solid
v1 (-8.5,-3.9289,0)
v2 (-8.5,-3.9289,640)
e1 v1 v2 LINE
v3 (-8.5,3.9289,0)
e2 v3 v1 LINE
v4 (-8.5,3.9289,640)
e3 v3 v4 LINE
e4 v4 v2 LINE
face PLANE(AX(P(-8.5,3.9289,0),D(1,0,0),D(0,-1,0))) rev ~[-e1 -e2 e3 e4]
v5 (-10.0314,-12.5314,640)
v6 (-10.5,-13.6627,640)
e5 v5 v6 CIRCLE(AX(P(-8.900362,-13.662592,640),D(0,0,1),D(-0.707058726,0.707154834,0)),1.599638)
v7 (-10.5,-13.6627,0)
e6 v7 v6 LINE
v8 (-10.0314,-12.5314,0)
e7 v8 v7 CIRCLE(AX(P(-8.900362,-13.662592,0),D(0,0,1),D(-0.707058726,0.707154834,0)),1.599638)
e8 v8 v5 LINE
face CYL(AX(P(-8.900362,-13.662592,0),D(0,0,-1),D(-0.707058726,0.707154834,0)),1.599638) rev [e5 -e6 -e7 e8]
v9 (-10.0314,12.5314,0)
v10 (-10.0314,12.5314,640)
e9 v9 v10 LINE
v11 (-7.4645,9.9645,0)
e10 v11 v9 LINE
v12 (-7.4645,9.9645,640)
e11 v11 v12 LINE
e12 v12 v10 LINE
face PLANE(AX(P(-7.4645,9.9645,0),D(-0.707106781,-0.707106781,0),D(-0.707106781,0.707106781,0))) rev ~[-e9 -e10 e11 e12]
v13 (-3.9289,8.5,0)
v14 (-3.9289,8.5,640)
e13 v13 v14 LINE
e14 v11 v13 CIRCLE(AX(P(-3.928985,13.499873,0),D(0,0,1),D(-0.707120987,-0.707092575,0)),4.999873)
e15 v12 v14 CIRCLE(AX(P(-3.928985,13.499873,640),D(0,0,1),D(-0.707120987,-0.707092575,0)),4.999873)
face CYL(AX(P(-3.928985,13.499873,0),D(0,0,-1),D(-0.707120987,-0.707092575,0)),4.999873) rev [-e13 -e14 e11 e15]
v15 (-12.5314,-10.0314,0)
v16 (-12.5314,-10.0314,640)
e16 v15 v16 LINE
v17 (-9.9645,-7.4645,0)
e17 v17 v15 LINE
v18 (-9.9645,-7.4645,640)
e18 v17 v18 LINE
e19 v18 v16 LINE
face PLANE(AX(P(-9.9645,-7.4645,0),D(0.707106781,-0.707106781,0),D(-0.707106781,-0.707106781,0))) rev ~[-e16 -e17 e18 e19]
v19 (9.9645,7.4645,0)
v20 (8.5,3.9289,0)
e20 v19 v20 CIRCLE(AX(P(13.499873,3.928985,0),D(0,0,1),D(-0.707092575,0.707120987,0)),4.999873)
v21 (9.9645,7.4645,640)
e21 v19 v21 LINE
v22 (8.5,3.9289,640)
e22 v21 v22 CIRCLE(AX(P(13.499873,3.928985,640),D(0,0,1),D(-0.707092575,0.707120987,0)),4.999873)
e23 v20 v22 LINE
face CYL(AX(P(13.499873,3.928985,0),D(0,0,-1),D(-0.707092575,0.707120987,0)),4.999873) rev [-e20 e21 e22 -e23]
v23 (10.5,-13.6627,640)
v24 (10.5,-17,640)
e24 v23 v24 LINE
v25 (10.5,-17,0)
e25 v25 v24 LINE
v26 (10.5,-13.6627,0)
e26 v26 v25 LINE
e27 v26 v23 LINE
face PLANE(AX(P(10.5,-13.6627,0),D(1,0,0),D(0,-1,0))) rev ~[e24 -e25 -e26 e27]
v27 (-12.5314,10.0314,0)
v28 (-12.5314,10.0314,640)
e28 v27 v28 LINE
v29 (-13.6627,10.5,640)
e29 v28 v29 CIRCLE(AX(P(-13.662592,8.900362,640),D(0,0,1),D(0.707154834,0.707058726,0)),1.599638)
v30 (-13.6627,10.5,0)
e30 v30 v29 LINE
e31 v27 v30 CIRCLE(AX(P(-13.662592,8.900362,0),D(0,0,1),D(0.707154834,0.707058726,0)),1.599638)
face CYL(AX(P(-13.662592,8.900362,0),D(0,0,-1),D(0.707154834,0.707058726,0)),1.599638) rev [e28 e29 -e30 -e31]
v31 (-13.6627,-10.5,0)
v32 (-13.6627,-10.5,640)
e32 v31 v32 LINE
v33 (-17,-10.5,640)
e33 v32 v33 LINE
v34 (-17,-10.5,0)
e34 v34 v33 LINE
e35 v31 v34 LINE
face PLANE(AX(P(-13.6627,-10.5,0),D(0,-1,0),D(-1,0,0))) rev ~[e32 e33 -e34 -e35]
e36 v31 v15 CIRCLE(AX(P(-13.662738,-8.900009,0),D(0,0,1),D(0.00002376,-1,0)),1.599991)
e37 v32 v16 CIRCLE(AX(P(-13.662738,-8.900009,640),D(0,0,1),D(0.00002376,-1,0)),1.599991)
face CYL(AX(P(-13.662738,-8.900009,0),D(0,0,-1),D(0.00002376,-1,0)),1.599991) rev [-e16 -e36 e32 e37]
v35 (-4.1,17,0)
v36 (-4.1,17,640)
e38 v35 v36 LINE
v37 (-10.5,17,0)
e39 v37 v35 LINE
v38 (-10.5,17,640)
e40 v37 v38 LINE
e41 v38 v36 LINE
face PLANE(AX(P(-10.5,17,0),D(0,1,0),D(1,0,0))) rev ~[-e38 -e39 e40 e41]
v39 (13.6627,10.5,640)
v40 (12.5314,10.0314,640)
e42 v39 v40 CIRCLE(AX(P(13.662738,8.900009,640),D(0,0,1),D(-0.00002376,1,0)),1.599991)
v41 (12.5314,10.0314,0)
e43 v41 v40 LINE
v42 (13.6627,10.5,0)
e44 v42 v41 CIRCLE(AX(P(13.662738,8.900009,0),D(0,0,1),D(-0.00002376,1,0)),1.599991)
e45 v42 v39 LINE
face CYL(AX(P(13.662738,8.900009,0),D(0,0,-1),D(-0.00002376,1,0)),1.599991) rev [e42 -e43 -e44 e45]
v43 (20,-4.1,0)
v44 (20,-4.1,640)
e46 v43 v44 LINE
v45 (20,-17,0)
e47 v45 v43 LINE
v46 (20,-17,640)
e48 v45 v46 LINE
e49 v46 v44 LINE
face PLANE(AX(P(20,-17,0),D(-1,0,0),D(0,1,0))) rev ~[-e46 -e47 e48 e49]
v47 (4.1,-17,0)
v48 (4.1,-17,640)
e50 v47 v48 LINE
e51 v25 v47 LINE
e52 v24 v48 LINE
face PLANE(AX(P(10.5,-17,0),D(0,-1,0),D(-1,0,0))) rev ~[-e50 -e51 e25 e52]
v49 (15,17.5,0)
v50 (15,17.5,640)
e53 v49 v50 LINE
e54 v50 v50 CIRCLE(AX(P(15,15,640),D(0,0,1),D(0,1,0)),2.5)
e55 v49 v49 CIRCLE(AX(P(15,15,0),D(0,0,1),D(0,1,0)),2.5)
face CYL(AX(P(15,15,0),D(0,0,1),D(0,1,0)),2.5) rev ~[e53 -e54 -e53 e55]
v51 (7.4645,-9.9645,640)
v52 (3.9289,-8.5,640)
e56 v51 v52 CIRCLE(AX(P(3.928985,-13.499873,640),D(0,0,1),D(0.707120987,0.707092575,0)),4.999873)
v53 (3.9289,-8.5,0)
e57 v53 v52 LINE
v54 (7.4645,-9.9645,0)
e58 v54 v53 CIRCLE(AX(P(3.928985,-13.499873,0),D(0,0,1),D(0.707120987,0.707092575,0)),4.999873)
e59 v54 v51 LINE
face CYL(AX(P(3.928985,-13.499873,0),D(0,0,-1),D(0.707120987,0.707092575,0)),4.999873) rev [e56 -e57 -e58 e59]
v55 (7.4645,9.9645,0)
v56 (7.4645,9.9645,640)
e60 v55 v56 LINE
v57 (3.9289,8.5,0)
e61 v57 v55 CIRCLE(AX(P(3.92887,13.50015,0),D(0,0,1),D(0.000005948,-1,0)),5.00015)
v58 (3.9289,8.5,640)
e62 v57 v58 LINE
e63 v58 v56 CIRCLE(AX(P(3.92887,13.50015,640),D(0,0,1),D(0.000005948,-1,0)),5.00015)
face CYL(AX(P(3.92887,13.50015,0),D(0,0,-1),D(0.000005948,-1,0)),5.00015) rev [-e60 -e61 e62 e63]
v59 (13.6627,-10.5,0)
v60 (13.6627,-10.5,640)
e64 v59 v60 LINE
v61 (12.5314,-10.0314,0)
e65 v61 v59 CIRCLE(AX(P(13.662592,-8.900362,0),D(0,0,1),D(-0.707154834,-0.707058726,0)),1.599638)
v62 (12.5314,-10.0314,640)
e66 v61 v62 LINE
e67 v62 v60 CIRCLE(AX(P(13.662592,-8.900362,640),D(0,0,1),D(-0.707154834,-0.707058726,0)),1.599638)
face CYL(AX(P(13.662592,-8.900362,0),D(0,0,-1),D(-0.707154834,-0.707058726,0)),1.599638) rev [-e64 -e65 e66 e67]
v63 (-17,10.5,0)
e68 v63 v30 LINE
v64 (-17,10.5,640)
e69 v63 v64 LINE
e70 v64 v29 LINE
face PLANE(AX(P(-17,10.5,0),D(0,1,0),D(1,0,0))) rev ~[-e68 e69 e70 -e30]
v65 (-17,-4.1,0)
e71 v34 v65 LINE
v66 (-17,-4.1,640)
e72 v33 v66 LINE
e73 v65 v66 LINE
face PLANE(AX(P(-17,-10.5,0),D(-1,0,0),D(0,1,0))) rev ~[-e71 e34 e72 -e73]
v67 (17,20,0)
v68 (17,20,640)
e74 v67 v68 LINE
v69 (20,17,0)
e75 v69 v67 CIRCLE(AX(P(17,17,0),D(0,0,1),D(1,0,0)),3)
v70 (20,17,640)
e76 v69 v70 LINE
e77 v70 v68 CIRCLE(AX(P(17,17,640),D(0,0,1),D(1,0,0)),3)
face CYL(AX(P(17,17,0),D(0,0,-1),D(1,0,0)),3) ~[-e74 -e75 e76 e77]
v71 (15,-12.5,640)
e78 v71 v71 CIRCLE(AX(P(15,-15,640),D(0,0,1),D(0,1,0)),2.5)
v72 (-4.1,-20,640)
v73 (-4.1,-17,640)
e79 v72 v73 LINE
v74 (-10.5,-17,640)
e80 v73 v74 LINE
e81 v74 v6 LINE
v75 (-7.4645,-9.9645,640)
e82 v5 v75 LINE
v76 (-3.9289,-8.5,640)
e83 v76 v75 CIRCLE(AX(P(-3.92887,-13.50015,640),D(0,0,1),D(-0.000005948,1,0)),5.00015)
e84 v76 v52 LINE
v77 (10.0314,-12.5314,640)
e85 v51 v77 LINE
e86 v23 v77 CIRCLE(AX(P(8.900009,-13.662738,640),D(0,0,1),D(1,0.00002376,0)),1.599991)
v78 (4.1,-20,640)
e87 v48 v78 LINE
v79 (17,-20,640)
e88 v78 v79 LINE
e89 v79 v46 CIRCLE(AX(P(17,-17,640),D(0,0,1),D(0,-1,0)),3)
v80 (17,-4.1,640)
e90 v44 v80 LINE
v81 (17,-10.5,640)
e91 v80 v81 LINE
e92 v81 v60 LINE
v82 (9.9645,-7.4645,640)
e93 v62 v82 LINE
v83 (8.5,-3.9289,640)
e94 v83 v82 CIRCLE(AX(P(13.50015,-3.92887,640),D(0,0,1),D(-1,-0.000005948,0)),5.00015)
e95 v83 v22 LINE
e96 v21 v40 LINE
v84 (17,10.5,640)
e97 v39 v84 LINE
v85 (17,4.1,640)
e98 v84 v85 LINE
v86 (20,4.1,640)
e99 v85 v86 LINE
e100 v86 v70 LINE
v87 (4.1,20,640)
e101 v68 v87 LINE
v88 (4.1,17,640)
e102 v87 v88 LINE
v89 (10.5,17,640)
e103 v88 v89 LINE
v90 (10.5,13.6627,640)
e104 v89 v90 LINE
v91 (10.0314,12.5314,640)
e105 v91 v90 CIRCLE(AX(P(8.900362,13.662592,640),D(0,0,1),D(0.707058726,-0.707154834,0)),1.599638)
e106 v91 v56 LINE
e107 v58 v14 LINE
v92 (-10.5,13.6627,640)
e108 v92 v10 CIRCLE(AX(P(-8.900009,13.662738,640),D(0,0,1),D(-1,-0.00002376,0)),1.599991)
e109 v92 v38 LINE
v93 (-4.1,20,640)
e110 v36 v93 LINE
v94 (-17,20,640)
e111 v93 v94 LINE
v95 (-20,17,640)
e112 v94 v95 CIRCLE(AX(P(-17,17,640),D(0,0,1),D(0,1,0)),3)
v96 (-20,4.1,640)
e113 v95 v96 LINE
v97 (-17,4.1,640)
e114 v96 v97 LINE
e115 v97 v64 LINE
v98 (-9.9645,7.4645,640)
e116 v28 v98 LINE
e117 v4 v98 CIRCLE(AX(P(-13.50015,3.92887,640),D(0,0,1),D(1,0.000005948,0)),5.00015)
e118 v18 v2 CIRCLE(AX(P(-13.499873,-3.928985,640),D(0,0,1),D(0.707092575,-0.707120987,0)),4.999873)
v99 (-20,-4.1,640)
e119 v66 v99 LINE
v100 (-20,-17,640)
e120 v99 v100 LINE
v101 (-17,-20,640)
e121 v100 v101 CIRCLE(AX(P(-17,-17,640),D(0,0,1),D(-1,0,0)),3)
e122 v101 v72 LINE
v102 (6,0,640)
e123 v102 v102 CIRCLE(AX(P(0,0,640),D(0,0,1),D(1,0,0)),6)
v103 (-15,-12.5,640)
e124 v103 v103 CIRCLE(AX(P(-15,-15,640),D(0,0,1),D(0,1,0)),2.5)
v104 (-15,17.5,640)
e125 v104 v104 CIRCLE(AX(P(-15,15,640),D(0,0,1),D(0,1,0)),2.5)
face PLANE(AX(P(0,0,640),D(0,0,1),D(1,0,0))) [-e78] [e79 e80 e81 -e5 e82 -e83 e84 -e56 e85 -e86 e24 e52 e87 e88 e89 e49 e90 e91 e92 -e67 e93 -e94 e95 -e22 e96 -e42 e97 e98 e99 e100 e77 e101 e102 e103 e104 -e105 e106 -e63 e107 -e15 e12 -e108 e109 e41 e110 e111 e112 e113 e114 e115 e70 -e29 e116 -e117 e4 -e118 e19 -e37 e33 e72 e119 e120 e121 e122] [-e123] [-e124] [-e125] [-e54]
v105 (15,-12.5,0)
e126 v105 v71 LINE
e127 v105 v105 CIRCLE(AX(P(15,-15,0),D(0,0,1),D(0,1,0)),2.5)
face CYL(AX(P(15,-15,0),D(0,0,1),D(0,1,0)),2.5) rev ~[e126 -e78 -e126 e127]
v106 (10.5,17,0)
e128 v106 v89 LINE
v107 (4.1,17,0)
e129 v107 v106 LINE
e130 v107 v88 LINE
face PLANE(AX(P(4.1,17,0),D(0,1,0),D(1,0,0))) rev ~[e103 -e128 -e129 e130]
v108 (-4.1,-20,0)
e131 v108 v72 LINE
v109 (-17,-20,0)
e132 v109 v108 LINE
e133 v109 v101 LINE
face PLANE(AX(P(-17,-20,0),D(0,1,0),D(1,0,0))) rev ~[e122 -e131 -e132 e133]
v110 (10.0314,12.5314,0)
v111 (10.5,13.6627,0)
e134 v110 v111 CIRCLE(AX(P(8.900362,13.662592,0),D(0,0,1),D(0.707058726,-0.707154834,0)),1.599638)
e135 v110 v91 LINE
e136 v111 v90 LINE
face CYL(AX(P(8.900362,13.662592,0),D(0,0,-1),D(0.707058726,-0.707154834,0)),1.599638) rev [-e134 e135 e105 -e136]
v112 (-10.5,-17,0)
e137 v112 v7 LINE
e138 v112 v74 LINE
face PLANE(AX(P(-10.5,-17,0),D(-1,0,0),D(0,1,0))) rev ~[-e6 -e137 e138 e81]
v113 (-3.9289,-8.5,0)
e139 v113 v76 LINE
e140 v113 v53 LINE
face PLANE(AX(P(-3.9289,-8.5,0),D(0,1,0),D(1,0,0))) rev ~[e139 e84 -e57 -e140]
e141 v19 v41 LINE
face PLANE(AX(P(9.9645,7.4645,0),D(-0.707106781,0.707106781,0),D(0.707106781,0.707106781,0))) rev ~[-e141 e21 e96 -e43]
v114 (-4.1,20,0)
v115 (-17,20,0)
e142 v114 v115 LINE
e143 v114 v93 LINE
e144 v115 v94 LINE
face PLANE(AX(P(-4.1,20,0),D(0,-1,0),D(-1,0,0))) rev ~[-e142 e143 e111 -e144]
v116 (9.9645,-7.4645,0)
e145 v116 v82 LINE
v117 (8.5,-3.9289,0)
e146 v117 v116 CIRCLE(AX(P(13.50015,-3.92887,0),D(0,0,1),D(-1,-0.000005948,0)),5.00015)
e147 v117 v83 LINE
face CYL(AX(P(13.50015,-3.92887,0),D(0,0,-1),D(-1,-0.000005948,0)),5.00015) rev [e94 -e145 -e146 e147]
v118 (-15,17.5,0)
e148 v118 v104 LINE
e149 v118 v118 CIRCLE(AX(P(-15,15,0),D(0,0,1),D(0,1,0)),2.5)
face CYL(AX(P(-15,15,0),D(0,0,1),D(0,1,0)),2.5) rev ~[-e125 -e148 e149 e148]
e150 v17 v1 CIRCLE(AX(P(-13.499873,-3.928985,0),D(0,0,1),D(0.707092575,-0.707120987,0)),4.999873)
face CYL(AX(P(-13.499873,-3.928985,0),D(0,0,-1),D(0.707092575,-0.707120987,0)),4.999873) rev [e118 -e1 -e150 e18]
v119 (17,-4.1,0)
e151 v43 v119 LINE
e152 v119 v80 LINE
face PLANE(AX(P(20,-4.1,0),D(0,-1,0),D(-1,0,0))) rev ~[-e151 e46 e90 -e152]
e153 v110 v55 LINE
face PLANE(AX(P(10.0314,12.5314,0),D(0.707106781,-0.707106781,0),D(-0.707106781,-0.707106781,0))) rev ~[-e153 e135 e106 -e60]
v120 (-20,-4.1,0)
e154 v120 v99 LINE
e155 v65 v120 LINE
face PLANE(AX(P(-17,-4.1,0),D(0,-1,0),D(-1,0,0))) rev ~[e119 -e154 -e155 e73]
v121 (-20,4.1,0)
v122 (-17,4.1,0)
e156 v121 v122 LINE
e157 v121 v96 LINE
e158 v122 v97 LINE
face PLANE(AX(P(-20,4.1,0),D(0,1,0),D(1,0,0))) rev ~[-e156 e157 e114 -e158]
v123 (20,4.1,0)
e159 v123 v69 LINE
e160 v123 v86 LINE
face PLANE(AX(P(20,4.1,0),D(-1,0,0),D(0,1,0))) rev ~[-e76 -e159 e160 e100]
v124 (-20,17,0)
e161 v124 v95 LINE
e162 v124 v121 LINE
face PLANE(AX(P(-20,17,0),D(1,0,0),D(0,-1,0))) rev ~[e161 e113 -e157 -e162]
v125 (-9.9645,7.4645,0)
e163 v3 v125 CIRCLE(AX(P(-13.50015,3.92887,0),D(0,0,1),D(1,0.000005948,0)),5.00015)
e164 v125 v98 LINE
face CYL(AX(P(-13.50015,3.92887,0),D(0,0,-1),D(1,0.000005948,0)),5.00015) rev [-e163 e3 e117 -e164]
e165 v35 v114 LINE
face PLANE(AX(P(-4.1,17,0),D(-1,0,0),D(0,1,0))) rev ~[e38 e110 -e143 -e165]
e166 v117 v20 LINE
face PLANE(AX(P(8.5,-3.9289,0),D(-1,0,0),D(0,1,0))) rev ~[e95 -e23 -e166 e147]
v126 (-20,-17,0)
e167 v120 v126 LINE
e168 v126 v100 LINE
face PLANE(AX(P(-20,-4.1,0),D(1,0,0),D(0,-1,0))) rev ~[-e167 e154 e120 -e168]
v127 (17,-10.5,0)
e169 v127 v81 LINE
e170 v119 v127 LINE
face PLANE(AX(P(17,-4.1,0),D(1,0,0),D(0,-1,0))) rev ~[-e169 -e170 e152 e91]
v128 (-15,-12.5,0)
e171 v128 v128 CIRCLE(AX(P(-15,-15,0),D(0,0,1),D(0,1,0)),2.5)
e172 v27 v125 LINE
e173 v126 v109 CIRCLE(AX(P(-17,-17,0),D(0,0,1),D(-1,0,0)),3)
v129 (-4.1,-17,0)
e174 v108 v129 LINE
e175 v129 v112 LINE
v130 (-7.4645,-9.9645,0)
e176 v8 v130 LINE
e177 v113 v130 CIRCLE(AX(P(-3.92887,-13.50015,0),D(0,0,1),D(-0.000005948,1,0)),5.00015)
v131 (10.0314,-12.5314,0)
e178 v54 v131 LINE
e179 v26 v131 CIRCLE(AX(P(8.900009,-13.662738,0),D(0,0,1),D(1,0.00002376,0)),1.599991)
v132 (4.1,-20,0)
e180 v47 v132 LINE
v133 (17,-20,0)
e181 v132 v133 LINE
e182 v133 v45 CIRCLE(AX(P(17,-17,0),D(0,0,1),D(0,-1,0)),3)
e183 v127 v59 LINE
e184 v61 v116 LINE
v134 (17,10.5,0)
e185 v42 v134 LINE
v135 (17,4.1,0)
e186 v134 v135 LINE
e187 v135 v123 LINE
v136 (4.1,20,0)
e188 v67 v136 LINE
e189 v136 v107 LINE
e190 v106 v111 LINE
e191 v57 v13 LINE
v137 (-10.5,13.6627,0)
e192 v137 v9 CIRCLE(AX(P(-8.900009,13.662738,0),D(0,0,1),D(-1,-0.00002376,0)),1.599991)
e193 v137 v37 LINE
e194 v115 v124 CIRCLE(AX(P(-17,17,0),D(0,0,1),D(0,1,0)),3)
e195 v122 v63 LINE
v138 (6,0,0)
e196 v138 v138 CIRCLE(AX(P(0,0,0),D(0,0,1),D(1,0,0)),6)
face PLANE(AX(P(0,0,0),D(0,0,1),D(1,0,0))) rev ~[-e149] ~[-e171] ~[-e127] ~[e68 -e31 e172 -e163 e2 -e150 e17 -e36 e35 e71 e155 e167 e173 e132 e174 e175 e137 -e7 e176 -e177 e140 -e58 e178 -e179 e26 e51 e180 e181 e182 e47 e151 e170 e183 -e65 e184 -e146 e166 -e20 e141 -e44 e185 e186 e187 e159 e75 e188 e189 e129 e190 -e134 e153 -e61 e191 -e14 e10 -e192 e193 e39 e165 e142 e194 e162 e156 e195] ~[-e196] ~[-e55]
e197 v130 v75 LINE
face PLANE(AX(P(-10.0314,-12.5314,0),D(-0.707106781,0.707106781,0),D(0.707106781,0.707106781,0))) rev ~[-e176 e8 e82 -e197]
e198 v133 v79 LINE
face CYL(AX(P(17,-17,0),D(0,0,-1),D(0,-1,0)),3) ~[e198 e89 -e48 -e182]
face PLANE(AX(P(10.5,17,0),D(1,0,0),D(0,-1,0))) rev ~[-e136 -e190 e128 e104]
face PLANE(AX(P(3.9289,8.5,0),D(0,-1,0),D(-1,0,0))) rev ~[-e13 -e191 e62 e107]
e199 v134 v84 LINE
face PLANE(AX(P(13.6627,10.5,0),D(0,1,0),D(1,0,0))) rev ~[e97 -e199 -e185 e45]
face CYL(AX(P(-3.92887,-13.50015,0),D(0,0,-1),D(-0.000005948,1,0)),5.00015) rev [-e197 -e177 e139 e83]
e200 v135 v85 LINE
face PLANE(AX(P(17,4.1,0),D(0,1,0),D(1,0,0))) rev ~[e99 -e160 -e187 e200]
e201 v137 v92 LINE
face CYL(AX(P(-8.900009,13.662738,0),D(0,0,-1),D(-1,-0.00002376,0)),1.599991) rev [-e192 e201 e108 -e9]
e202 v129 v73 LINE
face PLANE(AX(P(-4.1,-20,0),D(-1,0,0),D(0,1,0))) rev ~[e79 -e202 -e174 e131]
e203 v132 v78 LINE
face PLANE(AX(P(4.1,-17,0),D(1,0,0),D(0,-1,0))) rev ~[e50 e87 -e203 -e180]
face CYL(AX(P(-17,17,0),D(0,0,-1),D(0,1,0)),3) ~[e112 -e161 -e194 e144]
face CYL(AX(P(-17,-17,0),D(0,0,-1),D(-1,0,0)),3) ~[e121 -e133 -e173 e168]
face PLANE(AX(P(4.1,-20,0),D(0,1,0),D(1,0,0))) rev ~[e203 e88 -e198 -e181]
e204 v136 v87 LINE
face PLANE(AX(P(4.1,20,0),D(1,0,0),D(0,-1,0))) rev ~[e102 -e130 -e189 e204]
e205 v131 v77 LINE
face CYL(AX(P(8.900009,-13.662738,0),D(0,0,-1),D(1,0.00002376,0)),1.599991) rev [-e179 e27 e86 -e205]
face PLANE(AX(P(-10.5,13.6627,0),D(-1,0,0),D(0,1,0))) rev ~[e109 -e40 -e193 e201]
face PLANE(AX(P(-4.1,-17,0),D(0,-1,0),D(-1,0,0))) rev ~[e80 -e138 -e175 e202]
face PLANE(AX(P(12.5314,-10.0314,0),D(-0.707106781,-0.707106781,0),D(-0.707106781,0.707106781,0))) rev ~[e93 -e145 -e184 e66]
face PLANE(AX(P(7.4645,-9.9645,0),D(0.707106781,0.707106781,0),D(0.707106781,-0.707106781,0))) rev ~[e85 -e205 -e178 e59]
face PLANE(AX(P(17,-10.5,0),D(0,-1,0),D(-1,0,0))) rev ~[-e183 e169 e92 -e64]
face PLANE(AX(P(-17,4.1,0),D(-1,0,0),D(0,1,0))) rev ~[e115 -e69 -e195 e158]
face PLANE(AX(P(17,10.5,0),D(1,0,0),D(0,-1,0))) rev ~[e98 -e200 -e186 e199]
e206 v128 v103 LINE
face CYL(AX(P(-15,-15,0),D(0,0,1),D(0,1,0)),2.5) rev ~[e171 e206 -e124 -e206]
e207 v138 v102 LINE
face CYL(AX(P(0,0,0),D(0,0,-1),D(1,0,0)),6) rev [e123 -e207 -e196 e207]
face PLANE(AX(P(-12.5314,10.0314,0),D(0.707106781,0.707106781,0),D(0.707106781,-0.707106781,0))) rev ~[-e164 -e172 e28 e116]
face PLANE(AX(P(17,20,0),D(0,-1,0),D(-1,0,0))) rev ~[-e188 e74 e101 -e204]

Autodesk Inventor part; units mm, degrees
sketch "Skizze_1" plane through (0, 0, 0) normal (0, 0, 1) x (1, 0, 0)
  arc A0 (-20, -17) -> (-17, -20) centre (-17, -17) ccw
  line L0 (-17, -20) -> (-4.1, -20)
  line L1 (-4.1, -20) -> (-4.1, -17)
  line L2 (-4.1, -17) -> (-10.5, -17)
  line L3 (-10.5, -17) -> (-10.5, -13.6627)
  arc A1 (-10.0314, -12.5314) -> (-10.5, -13.6627) centre (-8.9002, -13.6627) ccw
  line L4 (-10.0314, -12.5314) -> (-7.4645, -9.9645)
  arc A2 (-3.9289, -8.5) -> (-7.4645, -9.9645) centre (-3.9289, -13.5) ccw
  line L5 (-3.9289, -8.5) -> (3.9289, -8.5)
  arc A3 (7.4645, -9.9645) -> (3.9289, -8.5) centre (3.9289, -13.5) ccw
  line L6 (7.4645, -9.9645) -> (10.0314, -12.5314)
  arc A4 (10.5, -13.6627) -> (10.0314, -12.5314) centre (8.9002, -13.6627) ccw
  line L7 (10.5, -13.6627) -> (10.5, -17)
  line L8 (10.5, -17) -> (4.1, -17)
  line L9 (4.1, -17) -> (4.1, -20)
  line L10 (4.1, -20) -> (17, -20)
  arc A5 (17, -20) -> (20, -17) centre (17, -17) ccw
  line L11 (20, -17) -> (20, -4.1)
  line L12 (20, -4.1) -> (17, -4.1)
  line L13 (17, -4.1) -> (17, -10.5)
  line L14 (17, -10.5) -> (13.6627, -10.5)
  arc A6 (12.5314, -10.0314) -> (13.6627, -10.5) centre (13.6627, -8.9002) ccw
  line L15 (12.5314, -10.0314) -> (9.9645, -7.4645)
  arc A7 (8.5, -3.9289) -> (9.9645, -7.4645) centre (13.5, -3.9289) ccw
  line L16 (8.5, -3.9289) -> (8.5, 3.9289)
  arc A8 (9.9645, 7.4645) -> (8.5, 3.9289) centre (13.5, 3.9289) ccw
  line L17 (9.9645, 7.4645) -> (12.5314, 10.0314)
  arc A9 (13.6627, 10.5) -> (12.5314, 10.0314) centre (13.6627, 8.9002) ccw
  line L18 (13.6627, 10.5) -> (17, 10.5)
  line L19 (17, 10.5) -> (17, 4.1)
  line L20 (17, 4.1) -> (20, 4.1)
  line L21 (20, 4.1) -> (20, 17)
  arc A10 (20, 17) -> (17, 20) centre (17, 17) ccw
  line L22 (17, 20) -> (4.1, 20)
  line L23 (4.1, 20) -> (4.1, 17)
  line L24 (4.1, 17) -> (10.5, 17)
  line L25 (10.5, 17) -> (10.5, 13.6627)
  arc A11 (10.0314, 12.5314) -> (10.5, 13.6627) centre (8.9002, 13.6627) ccw
  line L26 (10.0314, 12.5314) -> (7.4645, 9.9645)
  arc A12 (3.9289, 8.5) -> (7.4645, 9.9645) centre (3.9289, 13.5) ccw
  line L27 (3.9289, 8.5) -> (-3.9289, 8.5)
  arc A13 (-7.4645, 9.9645) -> (-3.9289, 8.5) centre (-3.9289, 13.5) ccw
  line L28 (-7.4645, 9.9645) -> (-10.0314, 12.5314)
  arc A14 (-10.5, 13.6627) -> (-10.0314, 12.5314) centre (-8.9002, 13.6627) ccw
  line L29 (-10.5, 13.6627) -> (-10.5, 17)
  line L30 (-10.5, 17) -> (-4.1, 17)
  line L31 (-4.1, 17) -> (-4.1, 20)
  line L32 (-4.1, 20) -> (-17, 20)
  arc A15 (-17, 20) -> (-20, 17) centre (-17, 17) ccw
  line L33 (-20, 17) -> (-20, 4.1)
  line L34 (-20, 4.1) -> (-17, 4.1)
  line L35 (-17, 4.1) -> (-17, 10.5)
  line L36 (-17, 10.5) -> (-13.6627, 10.5)
  arc A16 (-12.5314, 10.0314) -> (-13.6627, 10.5) centre (-13.6627, 8.9002) ccw
  line L37 (-12.5314, 10.0314) -> (-9.9645, 7.4645)
  arc A17 (-8.5, 3.9289) -> (-9.9645, 7.4645) centre (-13.5, 3.9289) ccw
  line L38 (-8.5, 3.9289) -> (-8.5, -3.9289)
  arc A18 (-9.9645, -7.4645) -> (-8.5, -3.9289) centre (-13.5, -3.9289) ccw
  line L39 (-9.9645, -7.4645) -> (-12.5314, -10.0314)
  arc A19 (-13.6627, -10.5) -> (-12.5314, -10.0314) centre (-13.6627, -8.9002) ccw
  line L40 (-13.6627, -10.5) -> (-17, -10.5)
  line L41 (-17, -10.5) -> (-17, -4.1)
  line L42 (-17, -4.1) -> (-20, -4.1)
  line L43 (-20, -4.1) -> (-20, -17)
  circle A20 centre (0, 0) radius 6
extrude "Extrusion1" add sketch "Skizze_1" along normal blind 640
sketch "Sketch2" plane through (0, 0, 0) normal (0, 0, -1) x (1, 0, 0)
  point P0 (-15, -15)
hole "Drilling 1" at (-15, 15, 0) direction (0, 0, 1) diameter 5 depth 6000
sketch "Sketch3" plane through (0, 0, 0) normal (0, 0, -1) x (1, 0, 0)
  point P0 (15, -15)
hole "Drilling 2" at (15, 15, 0) direction (0, 0, 1) diameter 5 depth 6000
sketch "Sketch4" plane through (0, 0, 0) normal (0, 0, -1) x (1, 0, 0)
  point P0 (15, 15)
hole "Drilling 3" at (15, -15, 0) direction (0, 0, 1) diameter 5 depth 6000
sketch "Sketch5" plane through (0, 0, 0) normal (0, 0, -1) x (1, 0, 0)
  point P0 (-15, 15)
hole "Drilling 4" at (-15, -15, 0) direction (0, 0, 1) diameter 5 depth 6000
ref_plane "side_4d_XY" through (-20, 0, -330) normal (-1, 0, 0) x (0, 1, 0)
ref_plane "side_4d_YZ" through (-20, 0, -330) normal (0, 1, 0) x (0, 0, -1)
ref_plane "side_4d_ZX" through (-20, 0, -330) normal (0, 0, -1) x (-1, 0, 0)
ref_plane "side_1a_XY" through (0, 20, -330) normal (0, 1, 0) x (1, 0, 0)
ref_plane "side_1a_YZ" through (0, 20, -330) normal (1, 0, 0) x (0, 0, -1)
ref_plane "side_1a_ZX" through (0, 20, -330) normal (0, 0, -1) x (0, 1, 0)
ref_plane "side_2b_XY" through (20, 0, -330) normal (1, 0, 0) x (0, -1, 0)
ref_plane "side_2b_YZ" through (20, 0, -330) normal (0, -1, 0) x (0, 0, -1)
ref_plane "side_2b_ZX" through (20, 0, -330) normal (0, 0, -1) x (1, 0, 0)
ref_plane "side_3c_XY" through (0, -20, -330) normal (0, -1, 0) x (-1, 0, 0)
ref_plane "side_3c_YZ" through (0, -20, -330) normal (-1, 0, 0) x (0, 0, -1)
ref_plane "side_3c_ZX" through (0, -20, -330) normal (0, 0, -1) x (0, -1, 0)
ref_plane "end_XY" through (0, 0, -660) normal (0, 0, -1) x (1, 0, 0)
ref_plane "end_YZ" through (0, 0, -660) normal (1, 0, 0) x (0, -1, 0)
ref_plane "end_ZX" through (0, 0, -660) normal (0, -1, 0) x (0, 0, -1)
ref_plane "start_XY" through (0, 0, 0) normal (0, 0, 1) x (1, 0, 0)
ref_plane "start_YZ" through (0, 0, 0) normal (1, 0, 0) x (0, 1, 0)
ref_plane "start_ZX" through (0, 0, 0) normal (0, 1, 0) x (0, 0, 1)
properties part number "MayTec 1.11.040040.43S_Profile 40x40, 4E, S_660_Detail_(0;0,0,0)"
